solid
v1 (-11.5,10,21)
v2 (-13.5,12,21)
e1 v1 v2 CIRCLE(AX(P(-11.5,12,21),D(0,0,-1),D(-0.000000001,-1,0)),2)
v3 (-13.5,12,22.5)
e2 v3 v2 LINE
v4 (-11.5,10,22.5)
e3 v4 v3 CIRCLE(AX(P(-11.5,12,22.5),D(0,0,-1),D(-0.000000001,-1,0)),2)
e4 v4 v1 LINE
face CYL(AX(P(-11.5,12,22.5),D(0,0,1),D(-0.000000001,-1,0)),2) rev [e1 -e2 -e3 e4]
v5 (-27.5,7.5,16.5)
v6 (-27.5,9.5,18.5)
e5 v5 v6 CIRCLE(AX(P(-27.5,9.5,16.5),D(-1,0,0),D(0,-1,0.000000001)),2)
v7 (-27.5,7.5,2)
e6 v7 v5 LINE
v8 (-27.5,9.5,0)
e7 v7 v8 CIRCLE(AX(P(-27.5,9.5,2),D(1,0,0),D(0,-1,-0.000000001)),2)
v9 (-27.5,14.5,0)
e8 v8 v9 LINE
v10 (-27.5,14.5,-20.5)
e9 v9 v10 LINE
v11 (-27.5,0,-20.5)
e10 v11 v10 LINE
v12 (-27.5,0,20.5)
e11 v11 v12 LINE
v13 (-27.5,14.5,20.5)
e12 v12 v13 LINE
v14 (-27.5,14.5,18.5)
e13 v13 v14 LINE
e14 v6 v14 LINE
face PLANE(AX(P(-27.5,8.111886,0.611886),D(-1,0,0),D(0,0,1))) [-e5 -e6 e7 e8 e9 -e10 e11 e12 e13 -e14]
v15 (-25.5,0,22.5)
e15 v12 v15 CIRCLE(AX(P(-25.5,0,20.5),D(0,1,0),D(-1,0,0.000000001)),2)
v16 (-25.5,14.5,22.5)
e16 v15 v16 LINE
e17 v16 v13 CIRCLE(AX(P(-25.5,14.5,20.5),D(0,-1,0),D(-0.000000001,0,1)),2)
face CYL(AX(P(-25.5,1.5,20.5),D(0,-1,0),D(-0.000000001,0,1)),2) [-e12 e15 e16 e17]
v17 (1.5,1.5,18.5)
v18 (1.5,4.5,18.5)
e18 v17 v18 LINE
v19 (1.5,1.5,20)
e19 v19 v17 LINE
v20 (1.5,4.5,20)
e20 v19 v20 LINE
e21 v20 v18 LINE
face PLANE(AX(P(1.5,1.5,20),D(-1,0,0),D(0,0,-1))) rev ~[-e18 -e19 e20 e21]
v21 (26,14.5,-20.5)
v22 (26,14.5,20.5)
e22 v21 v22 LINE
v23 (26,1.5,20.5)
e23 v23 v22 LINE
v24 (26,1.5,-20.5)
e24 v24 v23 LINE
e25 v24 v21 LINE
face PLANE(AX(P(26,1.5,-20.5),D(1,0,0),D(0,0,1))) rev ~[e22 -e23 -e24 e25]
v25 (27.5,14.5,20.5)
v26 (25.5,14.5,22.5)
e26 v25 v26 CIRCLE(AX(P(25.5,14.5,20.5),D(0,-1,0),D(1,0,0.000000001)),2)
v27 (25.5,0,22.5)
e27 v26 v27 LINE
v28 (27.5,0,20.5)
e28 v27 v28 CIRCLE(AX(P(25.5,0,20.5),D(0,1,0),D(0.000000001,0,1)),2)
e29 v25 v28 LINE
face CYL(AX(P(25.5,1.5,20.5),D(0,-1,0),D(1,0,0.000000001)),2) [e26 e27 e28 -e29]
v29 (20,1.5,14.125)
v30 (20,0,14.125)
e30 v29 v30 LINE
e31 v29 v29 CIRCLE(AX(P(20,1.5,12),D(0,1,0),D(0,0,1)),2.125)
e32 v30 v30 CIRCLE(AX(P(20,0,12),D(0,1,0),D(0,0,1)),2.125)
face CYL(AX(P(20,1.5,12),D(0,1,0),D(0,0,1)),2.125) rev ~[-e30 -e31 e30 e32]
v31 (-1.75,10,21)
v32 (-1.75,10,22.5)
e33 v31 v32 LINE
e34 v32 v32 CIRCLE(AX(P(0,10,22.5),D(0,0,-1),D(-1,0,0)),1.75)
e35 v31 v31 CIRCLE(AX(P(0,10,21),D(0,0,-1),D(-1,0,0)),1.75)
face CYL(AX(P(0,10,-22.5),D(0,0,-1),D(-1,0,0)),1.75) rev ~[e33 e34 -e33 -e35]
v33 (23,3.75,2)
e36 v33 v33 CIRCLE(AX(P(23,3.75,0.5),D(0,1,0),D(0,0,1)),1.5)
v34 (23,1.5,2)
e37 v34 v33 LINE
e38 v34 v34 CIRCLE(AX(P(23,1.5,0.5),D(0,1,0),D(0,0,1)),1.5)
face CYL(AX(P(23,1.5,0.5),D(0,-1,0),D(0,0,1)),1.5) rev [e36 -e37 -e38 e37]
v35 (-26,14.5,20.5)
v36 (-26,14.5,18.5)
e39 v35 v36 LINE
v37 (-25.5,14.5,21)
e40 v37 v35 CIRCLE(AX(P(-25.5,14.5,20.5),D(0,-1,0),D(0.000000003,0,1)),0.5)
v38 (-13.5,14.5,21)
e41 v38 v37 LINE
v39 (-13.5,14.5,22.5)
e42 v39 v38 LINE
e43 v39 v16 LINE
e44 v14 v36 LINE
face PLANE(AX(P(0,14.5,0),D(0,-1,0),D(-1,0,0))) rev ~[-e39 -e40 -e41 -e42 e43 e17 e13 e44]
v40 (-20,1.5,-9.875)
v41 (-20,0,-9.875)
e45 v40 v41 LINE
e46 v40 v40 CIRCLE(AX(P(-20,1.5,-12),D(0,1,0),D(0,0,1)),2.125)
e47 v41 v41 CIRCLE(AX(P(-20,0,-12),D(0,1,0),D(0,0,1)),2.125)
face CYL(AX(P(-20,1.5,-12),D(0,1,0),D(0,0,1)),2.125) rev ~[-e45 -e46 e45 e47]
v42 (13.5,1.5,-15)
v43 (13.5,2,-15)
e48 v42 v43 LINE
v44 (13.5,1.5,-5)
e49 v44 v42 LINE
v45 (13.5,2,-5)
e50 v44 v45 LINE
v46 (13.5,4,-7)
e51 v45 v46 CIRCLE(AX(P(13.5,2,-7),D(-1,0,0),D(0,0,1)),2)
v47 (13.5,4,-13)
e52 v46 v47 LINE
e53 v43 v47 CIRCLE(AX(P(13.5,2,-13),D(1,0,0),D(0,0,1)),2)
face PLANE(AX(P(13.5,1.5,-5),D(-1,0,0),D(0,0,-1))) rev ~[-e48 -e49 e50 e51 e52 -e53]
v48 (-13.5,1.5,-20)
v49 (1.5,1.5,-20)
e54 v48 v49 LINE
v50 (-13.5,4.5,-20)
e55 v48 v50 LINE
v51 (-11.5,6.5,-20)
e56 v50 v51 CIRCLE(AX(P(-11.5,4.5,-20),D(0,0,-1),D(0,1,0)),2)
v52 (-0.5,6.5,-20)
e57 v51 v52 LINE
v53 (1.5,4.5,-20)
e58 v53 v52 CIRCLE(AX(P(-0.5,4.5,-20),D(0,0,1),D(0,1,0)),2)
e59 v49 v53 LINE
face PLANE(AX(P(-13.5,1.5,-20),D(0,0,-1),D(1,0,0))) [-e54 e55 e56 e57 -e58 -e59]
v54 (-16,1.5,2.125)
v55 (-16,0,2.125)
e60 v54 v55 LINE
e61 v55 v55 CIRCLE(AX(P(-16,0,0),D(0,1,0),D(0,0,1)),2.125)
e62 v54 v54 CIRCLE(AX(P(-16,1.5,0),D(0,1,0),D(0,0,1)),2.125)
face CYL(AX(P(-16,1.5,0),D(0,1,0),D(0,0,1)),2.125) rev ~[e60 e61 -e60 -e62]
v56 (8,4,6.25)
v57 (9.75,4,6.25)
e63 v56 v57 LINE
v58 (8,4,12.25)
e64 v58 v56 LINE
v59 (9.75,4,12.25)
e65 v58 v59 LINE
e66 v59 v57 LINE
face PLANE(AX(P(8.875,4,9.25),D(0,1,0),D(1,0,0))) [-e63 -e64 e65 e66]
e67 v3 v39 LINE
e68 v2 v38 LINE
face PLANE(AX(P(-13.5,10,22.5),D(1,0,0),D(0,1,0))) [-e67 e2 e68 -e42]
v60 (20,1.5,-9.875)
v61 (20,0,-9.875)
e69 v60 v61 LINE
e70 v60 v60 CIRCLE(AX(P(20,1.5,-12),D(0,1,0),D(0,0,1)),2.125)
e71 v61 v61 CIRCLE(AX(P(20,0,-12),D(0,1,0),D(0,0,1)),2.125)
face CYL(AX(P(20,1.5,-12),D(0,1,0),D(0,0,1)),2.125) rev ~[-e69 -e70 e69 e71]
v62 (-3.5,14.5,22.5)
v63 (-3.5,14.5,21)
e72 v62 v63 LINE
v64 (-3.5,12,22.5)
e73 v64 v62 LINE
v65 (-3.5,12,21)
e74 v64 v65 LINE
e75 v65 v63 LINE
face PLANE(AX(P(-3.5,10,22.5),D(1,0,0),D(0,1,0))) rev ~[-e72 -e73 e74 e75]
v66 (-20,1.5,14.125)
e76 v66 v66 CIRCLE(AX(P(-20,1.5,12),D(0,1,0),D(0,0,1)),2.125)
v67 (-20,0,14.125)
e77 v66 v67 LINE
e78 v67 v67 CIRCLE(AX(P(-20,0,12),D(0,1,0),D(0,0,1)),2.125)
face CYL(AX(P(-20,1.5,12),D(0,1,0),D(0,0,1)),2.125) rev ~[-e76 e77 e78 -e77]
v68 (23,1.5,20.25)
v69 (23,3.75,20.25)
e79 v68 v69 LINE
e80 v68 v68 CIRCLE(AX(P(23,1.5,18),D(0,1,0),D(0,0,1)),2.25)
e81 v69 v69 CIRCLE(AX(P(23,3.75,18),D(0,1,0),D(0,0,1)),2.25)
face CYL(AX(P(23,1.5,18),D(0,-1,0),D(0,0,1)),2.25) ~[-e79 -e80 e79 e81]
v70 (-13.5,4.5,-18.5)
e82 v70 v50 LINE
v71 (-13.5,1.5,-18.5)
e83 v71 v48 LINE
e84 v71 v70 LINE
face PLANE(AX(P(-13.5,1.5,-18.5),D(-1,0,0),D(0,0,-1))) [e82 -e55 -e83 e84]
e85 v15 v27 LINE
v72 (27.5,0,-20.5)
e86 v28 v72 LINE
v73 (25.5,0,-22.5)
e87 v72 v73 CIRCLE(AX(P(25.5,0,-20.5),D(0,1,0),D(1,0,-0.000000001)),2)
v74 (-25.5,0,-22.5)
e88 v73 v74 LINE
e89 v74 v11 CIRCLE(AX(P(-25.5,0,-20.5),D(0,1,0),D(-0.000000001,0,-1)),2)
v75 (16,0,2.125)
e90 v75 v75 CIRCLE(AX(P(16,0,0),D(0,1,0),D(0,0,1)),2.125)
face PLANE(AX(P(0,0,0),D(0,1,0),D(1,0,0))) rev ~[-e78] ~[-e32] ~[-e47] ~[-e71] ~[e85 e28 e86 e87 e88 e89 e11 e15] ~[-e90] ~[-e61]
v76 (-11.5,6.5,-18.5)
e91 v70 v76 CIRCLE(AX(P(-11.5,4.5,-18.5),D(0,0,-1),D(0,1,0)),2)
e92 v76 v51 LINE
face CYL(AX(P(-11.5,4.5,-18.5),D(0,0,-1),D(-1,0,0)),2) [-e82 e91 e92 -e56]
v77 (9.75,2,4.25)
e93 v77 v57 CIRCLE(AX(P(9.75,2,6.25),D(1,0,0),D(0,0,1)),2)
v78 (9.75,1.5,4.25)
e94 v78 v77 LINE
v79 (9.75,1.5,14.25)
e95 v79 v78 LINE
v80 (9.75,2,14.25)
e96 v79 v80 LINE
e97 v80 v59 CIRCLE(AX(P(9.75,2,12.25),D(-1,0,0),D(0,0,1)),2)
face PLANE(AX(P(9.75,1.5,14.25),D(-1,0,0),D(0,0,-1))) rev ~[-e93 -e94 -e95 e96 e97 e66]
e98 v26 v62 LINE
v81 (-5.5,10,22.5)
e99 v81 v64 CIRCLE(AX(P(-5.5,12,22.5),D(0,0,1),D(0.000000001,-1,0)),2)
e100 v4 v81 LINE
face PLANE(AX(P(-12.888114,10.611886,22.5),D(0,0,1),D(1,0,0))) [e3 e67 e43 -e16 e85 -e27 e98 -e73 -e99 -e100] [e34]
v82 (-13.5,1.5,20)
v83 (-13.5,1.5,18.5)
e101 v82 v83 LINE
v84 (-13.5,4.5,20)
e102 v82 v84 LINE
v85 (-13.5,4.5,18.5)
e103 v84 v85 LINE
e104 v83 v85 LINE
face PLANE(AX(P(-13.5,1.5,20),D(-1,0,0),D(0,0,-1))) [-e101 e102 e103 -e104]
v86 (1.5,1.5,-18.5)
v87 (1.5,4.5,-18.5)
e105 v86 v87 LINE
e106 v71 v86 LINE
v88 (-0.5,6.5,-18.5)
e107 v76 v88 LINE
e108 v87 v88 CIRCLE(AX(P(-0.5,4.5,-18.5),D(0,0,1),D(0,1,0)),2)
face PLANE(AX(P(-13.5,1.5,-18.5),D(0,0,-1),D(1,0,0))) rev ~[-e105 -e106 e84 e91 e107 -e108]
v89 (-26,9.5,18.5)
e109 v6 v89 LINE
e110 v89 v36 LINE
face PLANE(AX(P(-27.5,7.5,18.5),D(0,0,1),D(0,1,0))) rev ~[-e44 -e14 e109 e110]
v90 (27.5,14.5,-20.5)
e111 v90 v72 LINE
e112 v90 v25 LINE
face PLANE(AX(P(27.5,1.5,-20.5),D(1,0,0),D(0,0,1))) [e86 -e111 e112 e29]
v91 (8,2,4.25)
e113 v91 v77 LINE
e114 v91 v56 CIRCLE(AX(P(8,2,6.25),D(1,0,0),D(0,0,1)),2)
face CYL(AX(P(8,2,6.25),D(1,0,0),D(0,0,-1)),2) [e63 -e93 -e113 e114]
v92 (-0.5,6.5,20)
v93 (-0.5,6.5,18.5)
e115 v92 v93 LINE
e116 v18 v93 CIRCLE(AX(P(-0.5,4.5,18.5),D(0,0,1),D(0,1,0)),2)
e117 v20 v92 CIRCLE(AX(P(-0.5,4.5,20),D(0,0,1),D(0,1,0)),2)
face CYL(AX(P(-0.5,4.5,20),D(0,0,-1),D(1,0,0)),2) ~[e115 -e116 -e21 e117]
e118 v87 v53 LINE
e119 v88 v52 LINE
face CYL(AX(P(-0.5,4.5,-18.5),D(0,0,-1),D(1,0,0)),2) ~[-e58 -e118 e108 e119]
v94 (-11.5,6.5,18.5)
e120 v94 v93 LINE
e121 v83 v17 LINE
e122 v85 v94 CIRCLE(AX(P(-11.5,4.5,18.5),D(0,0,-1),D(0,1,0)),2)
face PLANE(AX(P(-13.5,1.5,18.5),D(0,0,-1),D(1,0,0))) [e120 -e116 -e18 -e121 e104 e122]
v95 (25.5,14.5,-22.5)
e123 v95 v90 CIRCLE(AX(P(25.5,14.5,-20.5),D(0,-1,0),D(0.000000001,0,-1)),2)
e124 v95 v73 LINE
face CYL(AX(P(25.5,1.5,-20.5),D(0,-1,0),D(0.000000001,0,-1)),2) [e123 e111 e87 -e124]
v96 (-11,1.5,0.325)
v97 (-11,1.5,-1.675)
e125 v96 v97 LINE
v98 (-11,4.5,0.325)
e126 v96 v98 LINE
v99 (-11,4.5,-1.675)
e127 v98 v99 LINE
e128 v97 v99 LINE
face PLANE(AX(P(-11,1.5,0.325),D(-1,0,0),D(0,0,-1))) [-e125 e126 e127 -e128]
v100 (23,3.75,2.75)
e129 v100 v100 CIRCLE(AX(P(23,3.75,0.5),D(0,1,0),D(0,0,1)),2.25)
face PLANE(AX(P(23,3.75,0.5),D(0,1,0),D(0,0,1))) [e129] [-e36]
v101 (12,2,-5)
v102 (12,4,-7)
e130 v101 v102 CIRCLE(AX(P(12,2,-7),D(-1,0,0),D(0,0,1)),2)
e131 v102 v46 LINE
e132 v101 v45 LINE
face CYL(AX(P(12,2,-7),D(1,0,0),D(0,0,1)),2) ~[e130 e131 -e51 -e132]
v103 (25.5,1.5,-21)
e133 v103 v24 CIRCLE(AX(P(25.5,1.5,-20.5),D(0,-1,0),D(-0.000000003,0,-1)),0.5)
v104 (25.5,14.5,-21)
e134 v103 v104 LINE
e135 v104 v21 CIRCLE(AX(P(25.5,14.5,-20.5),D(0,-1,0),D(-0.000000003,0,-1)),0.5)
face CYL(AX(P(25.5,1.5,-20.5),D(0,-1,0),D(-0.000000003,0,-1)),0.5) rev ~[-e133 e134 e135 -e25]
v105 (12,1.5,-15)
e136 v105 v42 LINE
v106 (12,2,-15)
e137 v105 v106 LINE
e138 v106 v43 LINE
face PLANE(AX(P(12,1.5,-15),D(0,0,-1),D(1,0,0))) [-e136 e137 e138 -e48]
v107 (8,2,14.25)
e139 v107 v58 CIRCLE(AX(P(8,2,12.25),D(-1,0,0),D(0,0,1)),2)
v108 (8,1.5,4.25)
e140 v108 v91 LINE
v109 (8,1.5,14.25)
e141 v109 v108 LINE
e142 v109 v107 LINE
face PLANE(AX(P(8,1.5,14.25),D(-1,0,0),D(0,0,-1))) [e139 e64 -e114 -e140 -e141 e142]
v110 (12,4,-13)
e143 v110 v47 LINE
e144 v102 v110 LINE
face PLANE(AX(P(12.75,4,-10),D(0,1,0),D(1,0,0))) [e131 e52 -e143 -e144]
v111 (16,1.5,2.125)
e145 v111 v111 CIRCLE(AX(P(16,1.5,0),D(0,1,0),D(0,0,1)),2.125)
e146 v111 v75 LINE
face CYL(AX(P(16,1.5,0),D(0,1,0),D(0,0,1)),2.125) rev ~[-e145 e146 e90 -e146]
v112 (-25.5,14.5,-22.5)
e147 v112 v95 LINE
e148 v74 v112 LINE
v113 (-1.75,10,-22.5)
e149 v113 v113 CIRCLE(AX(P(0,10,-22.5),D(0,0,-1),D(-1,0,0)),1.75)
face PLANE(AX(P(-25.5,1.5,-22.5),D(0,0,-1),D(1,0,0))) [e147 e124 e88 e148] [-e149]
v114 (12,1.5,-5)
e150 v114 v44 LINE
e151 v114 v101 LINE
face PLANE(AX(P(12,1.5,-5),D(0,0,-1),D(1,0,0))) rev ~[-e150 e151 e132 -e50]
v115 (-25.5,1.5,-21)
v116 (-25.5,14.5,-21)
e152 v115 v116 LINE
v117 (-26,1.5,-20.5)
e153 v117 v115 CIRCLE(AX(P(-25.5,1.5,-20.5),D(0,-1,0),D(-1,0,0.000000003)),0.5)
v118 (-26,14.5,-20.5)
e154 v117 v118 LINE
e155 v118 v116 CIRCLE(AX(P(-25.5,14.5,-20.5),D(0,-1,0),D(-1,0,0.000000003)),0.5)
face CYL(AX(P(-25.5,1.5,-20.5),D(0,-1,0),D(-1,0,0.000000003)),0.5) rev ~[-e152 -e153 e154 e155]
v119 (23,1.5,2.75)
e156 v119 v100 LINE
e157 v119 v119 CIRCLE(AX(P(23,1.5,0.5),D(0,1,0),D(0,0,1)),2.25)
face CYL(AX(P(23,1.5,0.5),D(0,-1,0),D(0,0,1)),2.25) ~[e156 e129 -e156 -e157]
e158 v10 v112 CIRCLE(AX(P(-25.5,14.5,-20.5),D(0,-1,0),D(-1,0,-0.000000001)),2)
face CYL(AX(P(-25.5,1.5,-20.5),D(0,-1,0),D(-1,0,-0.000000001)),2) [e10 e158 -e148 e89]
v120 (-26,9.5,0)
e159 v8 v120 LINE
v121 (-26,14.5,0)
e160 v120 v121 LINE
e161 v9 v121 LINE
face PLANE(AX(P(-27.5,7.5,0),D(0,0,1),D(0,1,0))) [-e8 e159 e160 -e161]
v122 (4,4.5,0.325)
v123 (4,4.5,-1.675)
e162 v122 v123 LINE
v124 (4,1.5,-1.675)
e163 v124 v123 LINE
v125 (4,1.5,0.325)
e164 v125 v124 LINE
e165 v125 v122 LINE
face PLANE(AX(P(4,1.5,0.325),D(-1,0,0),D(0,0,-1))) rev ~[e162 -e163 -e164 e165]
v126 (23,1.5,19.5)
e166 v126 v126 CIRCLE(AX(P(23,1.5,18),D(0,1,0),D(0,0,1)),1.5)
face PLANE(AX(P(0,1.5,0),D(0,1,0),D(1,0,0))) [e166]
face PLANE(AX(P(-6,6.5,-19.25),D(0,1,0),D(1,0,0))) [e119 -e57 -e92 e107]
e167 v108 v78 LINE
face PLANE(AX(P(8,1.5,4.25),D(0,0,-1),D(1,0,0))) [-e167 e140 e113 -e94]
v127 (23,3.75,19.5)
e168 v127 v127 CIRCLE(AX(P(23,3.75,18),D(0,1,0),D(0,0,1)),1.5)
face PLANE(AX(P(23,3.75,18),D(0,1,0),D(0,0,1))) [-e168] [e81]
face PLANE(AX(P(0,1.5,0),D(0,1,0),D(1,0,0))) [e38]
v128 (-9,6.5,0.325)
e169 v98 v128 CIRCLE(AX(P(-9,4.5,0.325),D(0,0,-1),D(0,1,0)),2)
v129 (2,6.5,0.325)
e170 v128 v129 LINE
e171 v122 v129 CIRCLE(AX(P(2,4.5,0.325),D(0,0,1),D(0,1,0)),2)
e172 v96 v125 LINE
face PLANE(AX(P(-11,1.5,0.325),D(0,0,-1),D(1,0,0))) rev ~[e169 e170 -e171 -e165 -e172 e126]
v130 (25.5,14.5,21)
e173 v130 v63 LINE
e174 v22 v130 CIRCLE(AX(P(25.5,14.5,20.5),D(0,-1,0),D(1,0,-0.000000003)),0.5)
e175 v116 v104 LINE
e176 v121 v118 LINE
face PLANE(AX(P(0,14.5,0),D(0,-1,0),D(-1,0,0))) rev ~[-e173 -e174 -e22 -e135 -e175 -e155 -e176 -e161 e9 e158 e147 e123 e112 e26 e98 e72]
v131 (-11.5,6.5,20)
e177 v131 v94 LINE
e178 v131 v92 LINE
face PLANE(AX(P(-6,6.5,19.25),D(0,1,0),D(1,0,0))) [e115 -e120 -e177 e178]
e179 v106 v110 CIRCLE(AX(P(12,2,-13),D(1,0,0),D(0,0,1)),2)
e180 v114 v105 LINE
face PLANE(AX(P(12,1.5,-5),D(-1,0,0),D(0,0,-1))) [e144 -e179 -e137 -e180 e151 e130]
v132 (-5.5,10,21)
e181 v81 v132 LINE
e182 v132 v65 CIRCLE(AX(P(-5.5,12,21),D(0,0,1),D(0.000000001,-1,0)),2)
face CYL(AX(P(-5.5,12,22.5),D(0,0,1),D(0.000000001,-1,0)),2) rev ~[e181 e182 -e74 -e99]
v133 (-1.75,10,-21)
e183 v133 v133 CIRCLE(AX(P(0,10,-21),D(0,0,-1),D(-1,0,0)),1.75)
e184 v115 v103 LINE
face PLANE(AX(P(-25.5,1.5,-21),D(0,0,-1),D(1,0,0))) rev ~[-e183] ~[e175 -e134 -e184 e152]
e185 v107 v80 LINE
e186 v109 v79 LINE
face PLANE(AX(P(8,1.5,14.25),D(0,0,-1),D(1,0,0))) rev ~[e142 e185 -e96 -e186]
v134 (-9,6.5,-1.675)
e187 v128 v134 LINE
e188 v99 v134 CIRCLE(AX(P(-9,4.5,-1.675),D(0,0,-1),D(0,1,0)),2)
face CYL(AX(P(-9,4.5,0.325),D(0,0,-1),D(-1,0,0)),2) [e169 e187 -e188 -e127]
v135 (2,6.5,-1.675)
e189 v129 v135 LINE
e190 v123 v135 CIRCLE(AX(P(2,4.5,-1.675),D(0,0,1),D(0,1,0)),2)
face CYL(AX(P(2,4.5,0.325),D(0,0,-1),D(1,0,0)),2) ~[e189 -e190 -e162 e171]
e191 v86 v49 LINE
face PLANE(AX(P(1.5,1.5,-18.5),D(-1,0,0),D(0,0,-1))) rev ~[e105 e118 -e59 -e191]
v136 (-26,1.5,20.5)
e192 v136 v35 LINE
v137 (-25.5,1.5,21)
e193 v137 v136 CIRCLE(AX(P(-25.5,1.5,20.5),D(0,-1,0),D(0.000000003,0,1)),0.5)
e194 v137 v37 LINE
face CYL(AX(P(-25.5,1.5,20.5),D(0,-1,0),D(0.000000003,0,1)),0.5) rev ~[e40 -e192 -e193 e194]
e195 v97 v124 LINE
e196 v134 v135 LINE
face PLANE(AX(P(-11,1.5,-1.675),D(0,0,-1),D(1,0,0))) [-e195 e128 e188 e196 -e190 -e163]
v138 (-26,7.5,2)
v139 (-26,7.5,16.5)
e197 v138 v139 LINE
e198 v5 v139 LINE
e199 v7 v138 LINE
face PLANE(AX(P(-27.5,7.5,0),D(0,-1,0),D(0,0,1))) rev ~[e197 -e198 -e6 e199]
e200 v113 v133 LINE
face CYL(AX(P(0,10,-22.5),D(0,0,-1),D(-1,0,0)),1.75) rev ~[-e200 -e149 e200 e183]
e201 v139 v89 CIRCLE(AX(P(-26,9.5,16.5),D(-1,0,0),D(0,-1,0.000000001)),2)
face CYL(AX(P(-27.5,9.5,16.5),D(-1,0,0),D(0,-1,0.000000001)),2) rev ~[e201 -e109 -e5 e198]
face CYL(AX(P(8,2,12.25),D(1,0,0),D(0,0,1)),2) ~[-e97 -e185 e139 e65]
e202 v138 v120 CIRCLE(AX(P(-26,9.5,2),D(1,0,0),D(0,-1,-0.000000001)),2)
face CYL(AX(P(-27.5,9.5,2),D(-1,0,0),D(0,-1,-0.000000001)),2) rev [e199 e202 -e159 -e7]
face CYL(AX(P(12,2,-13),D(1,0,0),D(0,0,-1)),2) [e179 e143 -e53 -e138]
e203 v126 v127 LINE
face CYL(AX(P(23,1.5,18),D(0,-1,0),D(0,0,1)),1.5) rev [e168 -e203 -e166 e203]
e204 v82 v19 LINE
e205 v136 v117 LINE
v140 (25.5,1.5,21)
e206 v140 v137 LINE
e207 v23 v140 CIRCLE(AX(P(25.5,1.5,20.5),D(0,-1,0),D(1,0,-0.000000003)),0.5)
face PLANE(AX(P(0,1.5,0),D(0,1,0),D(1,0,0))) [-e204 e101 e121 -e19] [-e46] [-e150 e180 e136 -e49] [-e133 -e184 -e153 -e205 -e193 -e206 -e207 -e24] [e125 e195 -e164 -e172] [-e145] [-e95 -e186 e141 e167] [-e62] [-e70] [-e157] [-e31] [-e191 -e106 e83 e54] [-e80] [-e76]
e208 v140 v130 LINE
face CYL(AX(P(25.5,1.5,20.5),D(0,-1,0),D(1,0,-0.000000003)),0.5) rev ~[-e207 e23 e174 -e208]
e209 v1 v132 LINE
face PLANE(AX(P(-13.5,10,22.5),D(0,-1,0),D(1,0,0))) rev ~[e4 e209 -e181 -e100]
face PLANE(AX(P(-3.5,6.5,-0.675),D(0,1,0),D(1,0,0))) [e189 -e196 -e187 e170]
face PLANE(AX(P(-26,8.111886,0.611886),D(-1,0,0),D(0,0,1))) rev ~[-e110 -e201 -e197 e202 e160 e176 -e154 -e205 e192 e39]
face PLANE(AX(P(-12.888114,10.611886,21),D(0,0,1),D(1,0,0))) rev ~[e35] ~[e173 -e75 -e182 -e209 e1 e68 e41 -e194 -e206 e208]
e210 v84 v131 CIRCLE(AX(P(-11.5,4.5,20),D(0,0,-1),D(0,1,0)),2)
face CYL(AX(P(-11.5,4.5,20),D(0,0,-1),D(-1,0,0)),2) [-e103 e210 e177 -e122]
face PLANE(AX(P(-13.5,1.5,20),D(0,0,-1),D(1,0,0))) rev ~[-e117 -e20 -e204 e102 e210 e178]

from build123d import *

# Parameters (mm, degrees)
SALIENTE_EXTRUIR1_DEPTH = 1.5
SALIENTE_EXTRUIR3_DEPTH = 13
CROQUIS4_W              = 15
CROQUIS4_H              = 1.5
CROQUIS4_H_2            = 2
SALIENTE_EXTRUIR4_DEPTH = 5
CROQUIS5_W              = 1.5
CROQUIS5_H              = 10
CROQUIS5_W_2            = 1.75
SALIENTE_EXTRUIR5_DEPTH = 2.5
CROQUIS6_W              = 18.5
CROQUIS6_H              = 7
CORTAR_EXTRUIR1_DEPTH   = 1.5
CROQUIS7_W              = 10
CROQUIS7_H              = 4.5
CORTAR_EXTRUIR2_DEPTH   = 1.5
CROQUIS8_R              = 2.25
CROQUIS8_R_2            = 1.5
SALIENTE_EXTRUIR6_DEPTH = 2.25
CORTAR_EXTRUIR3_REACH   = 56.695
CROQUIS9_R              = 1.75
CROQUIS10_R             = 2.125
CORTAR_EXTRUIR4_DEPTH   = 1.5
CROQUIS11_R             = 2.125
CORTAR_EXTRUIR5_DEPTH   = 1.5
SALIENTE_EXTRUIR8_DEPTH = 1.5
SALIENTE_EXTRUIR9_DEPTH = 1.5
REDONDEO2_R             = 2


with BuildPart() as part:
    # Croquis1 → Saliente-Extruir1 (new body)
    with BuildSketch(Plane(origin=(0, 0, 0), x_dir=(1, 0, 0), z_dir=(0, 1, 0))):
        with BuildLine():
            Line((-25.5, -22.5), (25.5, -22.5))
            ThreePointArc((25.5, -22.5), (26.914213562, -21.914213562), (27.5, -20.5))
            Line((27.5, -20.5), (27.5, 20.5))
            ThreePointArc((27.5, 20.5), (26.914213562, 21.914213562), (25.5, 22.5))
            Line((25.5, 22.5), (-25.5, 22.5))
            ThreePointArc((-25.5, 22.5), (-26.914213562, 21.914213562), (-27.5, 20.5))
            Line((-27.5, 20.5), (-27.5, -20.5))
            ThreePointArc((-27.5, -20.5), (-26.914213562, -21.914213562), (-25.5, -22.5))
        make_face()
    extrude(amount=SALIENTE_EXTRUIR1_DEPTH)

    # Croquis3 → Saliente-Extruir3 (add)
    with BuildSketch(Plane(origin=(0, 1.5, 0), x_dir=(1, 0, 0), z_dir=(0, 1, 0))):
        with BuildLine():
            Line((-25.5, 22.5), (25.5, 22.5))
            ThreePointArc((25.5, 22.5), (26.914213562, 21.914213562), (27.5, 20.5))
            Line((27.5, 20.5), (27.5, -20.5))
            ThreePointArc((27.5, -20.5), (26.914213562, -21.914213562), (25.5, -22.5))
            Line((25.5, -22.5), (-25.5, -22.5))
            ThreePointArc((-25.5, -22.5), (-26.914213562, -21.914213562), (-27.5, -20.5))
            Line((-27.5, -20.5), (-27.5, 20.5))
            ThreePointArc((-27.5, 20.5), (-26.914213562, 21.914213562), (-25.5, 22.5))
        make_face()
        with BuildLine():
            Line((-25.5, 21), (25.5, 21))
            ThreePointArc((25.5, 21), (25.853553391, 20.853553391), (26, 20.5))
            Line((26, 20.5), (26, -20.5))
            ThreePointArc((26, -20.5), (25.853553391, -20.853553391), (25.5, -21))
            Line((25.5, -21), (-25.5, -21))
            ThreePointArc((-25.5, -21), (-25.853553391, -20.853553391), (-26, -20.5))
            Line((-26, -20.5), (-26, 20.5))
            ThreePointArc((-26, 20.5), (-25.853553391, 20.853553391), (-25.5, 21))
        make_face(mode=Mode.SUBTRACT)
    extrude(amount=SALIENTE_EXTRUIR3_DEPTH)

    # Croquis4 → Saliente-Extruir4 (add)
    with BuildSketch(Plane(origin=(0, 1.5, 0), x_dir=(1, 0, 0), z_dir=(0, 1, 0))):
        with Locations((-6, 19.25)):
            Rectangle(CROQUIS4_W, CROQUIS4_H)
        with Locations((-6, -19.25)):
            Rectangle(CROQUIS4_W, CROQUIS4_H)
        with Locations((-3.5, 0.675)):
            Rectangle(CROQUIS4_W, CROQUIS4_H_2)
    extrude(amount=SALIENTE_EXTRUIR4_DEPTH)

    # Croquis5 → Saliente-Extruir5 (add)
    with BuildSketch(Plane(origin=(0, 1.5, 0), x_dir=(1, 0, 0), z_dir=(0, 1, 0))):
        with Locations((12.75, 10)):
            Rectangle(CROQUIS5_W, CROQUIS5_H)
        with Locations((8.875, -9.25)):
            Rectangle(CROQUIS5_W_2, CROQUIS5_H)
    extrude(amount=SALIENTE_EXTRUIR5_DEPTH)

    # Croquis6 → Cortar-Extruir1 (cut)
    with BuildSketch(Plane.ZY.offset(27.5)):
        with Locations((9.25, 11)):
            Rectangle(CROQUIS6_W, CROQUIS6_H)
    extrude(amount=-CORTAR_EXTRUIR1_DEPTH, mode=Mode.SUBTRACT)

    # Croquis7 → Cortar-Extruir2 (cut)
    with BuildSketch(Plane.XY.offset(22.5)):
        with Locations((-8.5, 12.25)):
            Rectangle(CROQUIS7_W, CROQUIS7_H)
    extrude(amount=-CORTAR_EXTRUIR2_DEPTH, mode=Mode.SUBTRACT)

    # Croquis8 → Saliente-Extruir6 (add)
    # profile 1 of 2: a face of its own
    with BuildSketch(Plane(origin=(0, 1.5, 0), x_dir=(1, 0, 0), z_dir=(0, 1, 0))):
        with Locations(Location((23, -18, 0), (0, 0, 270))):
            Circle(CROQUIS8_R)
        with Locations(Location((23, -18, 0), (0, 0, 270))):
            Circle(CROQUIS8_R_2, mode=Mode.SUBTRACT)
    # profile 2 of 2: a face of its own
    with BuildSketch(Plane(origin=(0, 1.5, 0), x_dir=(1, 0, 0), z_dir=(0, 1, 0))):
        with Locations(Location((23, -0.5, 0), (0, 0, 270))):
            Circle(CROQUIS8_R)
        with Locations(Location((23, -0.5, 0), (0, 0, 270))):
            Circle(CROQUIS8_R_2, mode=Mode.SUBTRACT)
    extrude(amount=SALIENTE_EXTRUIR6_DEPTH)

    # Cortar-Extruir3: up to this face of the body (flat: up to its plane)
    cortar_extruir3_end = Plane(part.part.faces().sort_by_distance((0.55075594, 6.926025918, 22.5))[0])
    # Croquis9 → Cortar-Extruir3 (cut, up to the picked face)
    with BuildSketch(Plane(origin=(0, 0, -22.5), x_dir=(-1, 0, 0), z_dir=(0, 0, -1)), mode=Mode.PRIVATE) as cortar_extruir3_sk1:
        with Locations((0, 10)):
            Circle(CROQUIS9_R)
    cortar_extruir3_tool1 = split(extrude(cortar_extruir3_sk1.sketch, amount=-CORTAR_EXTRUIR3_REACH, mode=Mode.PRIVATE), bisect_by=cortar_extruir3_end, keep=Keep.BOTH, mode=Mode.PRIVATE)
    add(cortar_extruir3_tool1.solids().sort_by(Axis((0, 10, -22.5), (0, 0, 1)))[0], mode=Mode.SUBTRACT)

    # Croquis10 → Cortar-Extruir4 (cut)
    with BuildSketch(Plane(origin=(0, 1.5, 0), x_dir=(1, 0, 0), z_dir=(0, 1, 0))):
        with Locations(Location((-16, 0, 0), (0, 0, 270))):
            Circle(CROQUIS10_R)
        with Locations(Location((16, 0, 0), (0, 0, 270))):
            Circle(CROQUIS10_R)
    extrude(amount=-CORTAR_EXTRUIR4_DEPTH, mode=Mode.SUBTRACT)

    # Croquis11 → Cortar-Extruir5 (cut)
    with BuildSketch(Plane(origin=(0, 1.5, 0), x_dir=(1, 0, 0), z_dir=(0, 1, 0))):
        with Locations(Location((-20, 12, 0), (0, 0, 270))):
            Circle(CROQUIS11_R)
        with Locations(Location((20, 12, 0), (0, 0, 270))):
            Circle(CROQUIS11_R)
        with Locations(Location((20, -12, 0), (0, 0, 270))):
            Circle(CROQUIS11_R)
        with Locations(Location((-20, -12, 0), (0, 0, 270))):
            Circle(CROQUIS11_R)
    extrude(amount=-CORTAR_EXTRUIR5_DEPTH, mode=Mode.SUBTRACT)

    # Croquis12 → Saliente-Extruir8 (add)
    with BuildSketch(Plane.ZY.offset(27.5)):
        with BuildLine():
            Line((0, 7.5), (2, 7.5))
            ThreePointArc((2, 7.5), (0.585786438, 8.085786438), (0, 9.5))
            Line((0, 9.5), (0, 7.5))
        make_face()
        with BuildLine():
            Line((18.5, 9.5), (18.5, 7.5))
            Line((18.5, 7.5), (16.5, 7.5))
            ThreePointArc((16.5, 7.5), (17.914213562, 8.085786438), (18.5, 9.5))
        make_face()
    extrude(amount=-SALIENTE_EXTRUIR8_DEPTH)

    # Croquis13 → Saliente-Extruir9 (add)
    with BuildSketch(Plane.XY.offset(22.5)):
        with BuildLine():
            Line((-13.5, 12), (-13.5, 10))
            Line((-13.5, 10), (-11.5, 10))
            ThreePointArc((-11.5, 10), (-12.914213562, 10.585786438), (-13.5, 12))
        make_face()
        with BuildLine():
            Line((-3.5, 12), (-3.5, 10))
            Line((-3.5, 10), (-5.5, 10))
            ThreePointArc((-5.5, 10), (-4.085786438, 10.585786438), (-3.5, 12))
        make_face()
    extrude(amount=-SALIENTE_EXTRUIR9_DEPTH)

    # Redondeo2
    redondeo2_edges = [part.edges().sort_by_distance(p)[0] for p in [
        (12.75, 4, -15),
        (12.75, 4, -5),
        (8.875, 4, 4.25),
        (8.875, 4, 14.25),
        (-13.5, 6.5, -19.25),
        (1.5, 6.5, -19.25),
        (1.5, 6.5, 19.25),
        (-13.5, 6.5, 19.25),
        (-11, 6.5, -0.675),
        (4, 6.5, -0.675),
    ]]
    fillet(redondeo2_edges, radius=REDONDEO2_R)


solid = part.part
